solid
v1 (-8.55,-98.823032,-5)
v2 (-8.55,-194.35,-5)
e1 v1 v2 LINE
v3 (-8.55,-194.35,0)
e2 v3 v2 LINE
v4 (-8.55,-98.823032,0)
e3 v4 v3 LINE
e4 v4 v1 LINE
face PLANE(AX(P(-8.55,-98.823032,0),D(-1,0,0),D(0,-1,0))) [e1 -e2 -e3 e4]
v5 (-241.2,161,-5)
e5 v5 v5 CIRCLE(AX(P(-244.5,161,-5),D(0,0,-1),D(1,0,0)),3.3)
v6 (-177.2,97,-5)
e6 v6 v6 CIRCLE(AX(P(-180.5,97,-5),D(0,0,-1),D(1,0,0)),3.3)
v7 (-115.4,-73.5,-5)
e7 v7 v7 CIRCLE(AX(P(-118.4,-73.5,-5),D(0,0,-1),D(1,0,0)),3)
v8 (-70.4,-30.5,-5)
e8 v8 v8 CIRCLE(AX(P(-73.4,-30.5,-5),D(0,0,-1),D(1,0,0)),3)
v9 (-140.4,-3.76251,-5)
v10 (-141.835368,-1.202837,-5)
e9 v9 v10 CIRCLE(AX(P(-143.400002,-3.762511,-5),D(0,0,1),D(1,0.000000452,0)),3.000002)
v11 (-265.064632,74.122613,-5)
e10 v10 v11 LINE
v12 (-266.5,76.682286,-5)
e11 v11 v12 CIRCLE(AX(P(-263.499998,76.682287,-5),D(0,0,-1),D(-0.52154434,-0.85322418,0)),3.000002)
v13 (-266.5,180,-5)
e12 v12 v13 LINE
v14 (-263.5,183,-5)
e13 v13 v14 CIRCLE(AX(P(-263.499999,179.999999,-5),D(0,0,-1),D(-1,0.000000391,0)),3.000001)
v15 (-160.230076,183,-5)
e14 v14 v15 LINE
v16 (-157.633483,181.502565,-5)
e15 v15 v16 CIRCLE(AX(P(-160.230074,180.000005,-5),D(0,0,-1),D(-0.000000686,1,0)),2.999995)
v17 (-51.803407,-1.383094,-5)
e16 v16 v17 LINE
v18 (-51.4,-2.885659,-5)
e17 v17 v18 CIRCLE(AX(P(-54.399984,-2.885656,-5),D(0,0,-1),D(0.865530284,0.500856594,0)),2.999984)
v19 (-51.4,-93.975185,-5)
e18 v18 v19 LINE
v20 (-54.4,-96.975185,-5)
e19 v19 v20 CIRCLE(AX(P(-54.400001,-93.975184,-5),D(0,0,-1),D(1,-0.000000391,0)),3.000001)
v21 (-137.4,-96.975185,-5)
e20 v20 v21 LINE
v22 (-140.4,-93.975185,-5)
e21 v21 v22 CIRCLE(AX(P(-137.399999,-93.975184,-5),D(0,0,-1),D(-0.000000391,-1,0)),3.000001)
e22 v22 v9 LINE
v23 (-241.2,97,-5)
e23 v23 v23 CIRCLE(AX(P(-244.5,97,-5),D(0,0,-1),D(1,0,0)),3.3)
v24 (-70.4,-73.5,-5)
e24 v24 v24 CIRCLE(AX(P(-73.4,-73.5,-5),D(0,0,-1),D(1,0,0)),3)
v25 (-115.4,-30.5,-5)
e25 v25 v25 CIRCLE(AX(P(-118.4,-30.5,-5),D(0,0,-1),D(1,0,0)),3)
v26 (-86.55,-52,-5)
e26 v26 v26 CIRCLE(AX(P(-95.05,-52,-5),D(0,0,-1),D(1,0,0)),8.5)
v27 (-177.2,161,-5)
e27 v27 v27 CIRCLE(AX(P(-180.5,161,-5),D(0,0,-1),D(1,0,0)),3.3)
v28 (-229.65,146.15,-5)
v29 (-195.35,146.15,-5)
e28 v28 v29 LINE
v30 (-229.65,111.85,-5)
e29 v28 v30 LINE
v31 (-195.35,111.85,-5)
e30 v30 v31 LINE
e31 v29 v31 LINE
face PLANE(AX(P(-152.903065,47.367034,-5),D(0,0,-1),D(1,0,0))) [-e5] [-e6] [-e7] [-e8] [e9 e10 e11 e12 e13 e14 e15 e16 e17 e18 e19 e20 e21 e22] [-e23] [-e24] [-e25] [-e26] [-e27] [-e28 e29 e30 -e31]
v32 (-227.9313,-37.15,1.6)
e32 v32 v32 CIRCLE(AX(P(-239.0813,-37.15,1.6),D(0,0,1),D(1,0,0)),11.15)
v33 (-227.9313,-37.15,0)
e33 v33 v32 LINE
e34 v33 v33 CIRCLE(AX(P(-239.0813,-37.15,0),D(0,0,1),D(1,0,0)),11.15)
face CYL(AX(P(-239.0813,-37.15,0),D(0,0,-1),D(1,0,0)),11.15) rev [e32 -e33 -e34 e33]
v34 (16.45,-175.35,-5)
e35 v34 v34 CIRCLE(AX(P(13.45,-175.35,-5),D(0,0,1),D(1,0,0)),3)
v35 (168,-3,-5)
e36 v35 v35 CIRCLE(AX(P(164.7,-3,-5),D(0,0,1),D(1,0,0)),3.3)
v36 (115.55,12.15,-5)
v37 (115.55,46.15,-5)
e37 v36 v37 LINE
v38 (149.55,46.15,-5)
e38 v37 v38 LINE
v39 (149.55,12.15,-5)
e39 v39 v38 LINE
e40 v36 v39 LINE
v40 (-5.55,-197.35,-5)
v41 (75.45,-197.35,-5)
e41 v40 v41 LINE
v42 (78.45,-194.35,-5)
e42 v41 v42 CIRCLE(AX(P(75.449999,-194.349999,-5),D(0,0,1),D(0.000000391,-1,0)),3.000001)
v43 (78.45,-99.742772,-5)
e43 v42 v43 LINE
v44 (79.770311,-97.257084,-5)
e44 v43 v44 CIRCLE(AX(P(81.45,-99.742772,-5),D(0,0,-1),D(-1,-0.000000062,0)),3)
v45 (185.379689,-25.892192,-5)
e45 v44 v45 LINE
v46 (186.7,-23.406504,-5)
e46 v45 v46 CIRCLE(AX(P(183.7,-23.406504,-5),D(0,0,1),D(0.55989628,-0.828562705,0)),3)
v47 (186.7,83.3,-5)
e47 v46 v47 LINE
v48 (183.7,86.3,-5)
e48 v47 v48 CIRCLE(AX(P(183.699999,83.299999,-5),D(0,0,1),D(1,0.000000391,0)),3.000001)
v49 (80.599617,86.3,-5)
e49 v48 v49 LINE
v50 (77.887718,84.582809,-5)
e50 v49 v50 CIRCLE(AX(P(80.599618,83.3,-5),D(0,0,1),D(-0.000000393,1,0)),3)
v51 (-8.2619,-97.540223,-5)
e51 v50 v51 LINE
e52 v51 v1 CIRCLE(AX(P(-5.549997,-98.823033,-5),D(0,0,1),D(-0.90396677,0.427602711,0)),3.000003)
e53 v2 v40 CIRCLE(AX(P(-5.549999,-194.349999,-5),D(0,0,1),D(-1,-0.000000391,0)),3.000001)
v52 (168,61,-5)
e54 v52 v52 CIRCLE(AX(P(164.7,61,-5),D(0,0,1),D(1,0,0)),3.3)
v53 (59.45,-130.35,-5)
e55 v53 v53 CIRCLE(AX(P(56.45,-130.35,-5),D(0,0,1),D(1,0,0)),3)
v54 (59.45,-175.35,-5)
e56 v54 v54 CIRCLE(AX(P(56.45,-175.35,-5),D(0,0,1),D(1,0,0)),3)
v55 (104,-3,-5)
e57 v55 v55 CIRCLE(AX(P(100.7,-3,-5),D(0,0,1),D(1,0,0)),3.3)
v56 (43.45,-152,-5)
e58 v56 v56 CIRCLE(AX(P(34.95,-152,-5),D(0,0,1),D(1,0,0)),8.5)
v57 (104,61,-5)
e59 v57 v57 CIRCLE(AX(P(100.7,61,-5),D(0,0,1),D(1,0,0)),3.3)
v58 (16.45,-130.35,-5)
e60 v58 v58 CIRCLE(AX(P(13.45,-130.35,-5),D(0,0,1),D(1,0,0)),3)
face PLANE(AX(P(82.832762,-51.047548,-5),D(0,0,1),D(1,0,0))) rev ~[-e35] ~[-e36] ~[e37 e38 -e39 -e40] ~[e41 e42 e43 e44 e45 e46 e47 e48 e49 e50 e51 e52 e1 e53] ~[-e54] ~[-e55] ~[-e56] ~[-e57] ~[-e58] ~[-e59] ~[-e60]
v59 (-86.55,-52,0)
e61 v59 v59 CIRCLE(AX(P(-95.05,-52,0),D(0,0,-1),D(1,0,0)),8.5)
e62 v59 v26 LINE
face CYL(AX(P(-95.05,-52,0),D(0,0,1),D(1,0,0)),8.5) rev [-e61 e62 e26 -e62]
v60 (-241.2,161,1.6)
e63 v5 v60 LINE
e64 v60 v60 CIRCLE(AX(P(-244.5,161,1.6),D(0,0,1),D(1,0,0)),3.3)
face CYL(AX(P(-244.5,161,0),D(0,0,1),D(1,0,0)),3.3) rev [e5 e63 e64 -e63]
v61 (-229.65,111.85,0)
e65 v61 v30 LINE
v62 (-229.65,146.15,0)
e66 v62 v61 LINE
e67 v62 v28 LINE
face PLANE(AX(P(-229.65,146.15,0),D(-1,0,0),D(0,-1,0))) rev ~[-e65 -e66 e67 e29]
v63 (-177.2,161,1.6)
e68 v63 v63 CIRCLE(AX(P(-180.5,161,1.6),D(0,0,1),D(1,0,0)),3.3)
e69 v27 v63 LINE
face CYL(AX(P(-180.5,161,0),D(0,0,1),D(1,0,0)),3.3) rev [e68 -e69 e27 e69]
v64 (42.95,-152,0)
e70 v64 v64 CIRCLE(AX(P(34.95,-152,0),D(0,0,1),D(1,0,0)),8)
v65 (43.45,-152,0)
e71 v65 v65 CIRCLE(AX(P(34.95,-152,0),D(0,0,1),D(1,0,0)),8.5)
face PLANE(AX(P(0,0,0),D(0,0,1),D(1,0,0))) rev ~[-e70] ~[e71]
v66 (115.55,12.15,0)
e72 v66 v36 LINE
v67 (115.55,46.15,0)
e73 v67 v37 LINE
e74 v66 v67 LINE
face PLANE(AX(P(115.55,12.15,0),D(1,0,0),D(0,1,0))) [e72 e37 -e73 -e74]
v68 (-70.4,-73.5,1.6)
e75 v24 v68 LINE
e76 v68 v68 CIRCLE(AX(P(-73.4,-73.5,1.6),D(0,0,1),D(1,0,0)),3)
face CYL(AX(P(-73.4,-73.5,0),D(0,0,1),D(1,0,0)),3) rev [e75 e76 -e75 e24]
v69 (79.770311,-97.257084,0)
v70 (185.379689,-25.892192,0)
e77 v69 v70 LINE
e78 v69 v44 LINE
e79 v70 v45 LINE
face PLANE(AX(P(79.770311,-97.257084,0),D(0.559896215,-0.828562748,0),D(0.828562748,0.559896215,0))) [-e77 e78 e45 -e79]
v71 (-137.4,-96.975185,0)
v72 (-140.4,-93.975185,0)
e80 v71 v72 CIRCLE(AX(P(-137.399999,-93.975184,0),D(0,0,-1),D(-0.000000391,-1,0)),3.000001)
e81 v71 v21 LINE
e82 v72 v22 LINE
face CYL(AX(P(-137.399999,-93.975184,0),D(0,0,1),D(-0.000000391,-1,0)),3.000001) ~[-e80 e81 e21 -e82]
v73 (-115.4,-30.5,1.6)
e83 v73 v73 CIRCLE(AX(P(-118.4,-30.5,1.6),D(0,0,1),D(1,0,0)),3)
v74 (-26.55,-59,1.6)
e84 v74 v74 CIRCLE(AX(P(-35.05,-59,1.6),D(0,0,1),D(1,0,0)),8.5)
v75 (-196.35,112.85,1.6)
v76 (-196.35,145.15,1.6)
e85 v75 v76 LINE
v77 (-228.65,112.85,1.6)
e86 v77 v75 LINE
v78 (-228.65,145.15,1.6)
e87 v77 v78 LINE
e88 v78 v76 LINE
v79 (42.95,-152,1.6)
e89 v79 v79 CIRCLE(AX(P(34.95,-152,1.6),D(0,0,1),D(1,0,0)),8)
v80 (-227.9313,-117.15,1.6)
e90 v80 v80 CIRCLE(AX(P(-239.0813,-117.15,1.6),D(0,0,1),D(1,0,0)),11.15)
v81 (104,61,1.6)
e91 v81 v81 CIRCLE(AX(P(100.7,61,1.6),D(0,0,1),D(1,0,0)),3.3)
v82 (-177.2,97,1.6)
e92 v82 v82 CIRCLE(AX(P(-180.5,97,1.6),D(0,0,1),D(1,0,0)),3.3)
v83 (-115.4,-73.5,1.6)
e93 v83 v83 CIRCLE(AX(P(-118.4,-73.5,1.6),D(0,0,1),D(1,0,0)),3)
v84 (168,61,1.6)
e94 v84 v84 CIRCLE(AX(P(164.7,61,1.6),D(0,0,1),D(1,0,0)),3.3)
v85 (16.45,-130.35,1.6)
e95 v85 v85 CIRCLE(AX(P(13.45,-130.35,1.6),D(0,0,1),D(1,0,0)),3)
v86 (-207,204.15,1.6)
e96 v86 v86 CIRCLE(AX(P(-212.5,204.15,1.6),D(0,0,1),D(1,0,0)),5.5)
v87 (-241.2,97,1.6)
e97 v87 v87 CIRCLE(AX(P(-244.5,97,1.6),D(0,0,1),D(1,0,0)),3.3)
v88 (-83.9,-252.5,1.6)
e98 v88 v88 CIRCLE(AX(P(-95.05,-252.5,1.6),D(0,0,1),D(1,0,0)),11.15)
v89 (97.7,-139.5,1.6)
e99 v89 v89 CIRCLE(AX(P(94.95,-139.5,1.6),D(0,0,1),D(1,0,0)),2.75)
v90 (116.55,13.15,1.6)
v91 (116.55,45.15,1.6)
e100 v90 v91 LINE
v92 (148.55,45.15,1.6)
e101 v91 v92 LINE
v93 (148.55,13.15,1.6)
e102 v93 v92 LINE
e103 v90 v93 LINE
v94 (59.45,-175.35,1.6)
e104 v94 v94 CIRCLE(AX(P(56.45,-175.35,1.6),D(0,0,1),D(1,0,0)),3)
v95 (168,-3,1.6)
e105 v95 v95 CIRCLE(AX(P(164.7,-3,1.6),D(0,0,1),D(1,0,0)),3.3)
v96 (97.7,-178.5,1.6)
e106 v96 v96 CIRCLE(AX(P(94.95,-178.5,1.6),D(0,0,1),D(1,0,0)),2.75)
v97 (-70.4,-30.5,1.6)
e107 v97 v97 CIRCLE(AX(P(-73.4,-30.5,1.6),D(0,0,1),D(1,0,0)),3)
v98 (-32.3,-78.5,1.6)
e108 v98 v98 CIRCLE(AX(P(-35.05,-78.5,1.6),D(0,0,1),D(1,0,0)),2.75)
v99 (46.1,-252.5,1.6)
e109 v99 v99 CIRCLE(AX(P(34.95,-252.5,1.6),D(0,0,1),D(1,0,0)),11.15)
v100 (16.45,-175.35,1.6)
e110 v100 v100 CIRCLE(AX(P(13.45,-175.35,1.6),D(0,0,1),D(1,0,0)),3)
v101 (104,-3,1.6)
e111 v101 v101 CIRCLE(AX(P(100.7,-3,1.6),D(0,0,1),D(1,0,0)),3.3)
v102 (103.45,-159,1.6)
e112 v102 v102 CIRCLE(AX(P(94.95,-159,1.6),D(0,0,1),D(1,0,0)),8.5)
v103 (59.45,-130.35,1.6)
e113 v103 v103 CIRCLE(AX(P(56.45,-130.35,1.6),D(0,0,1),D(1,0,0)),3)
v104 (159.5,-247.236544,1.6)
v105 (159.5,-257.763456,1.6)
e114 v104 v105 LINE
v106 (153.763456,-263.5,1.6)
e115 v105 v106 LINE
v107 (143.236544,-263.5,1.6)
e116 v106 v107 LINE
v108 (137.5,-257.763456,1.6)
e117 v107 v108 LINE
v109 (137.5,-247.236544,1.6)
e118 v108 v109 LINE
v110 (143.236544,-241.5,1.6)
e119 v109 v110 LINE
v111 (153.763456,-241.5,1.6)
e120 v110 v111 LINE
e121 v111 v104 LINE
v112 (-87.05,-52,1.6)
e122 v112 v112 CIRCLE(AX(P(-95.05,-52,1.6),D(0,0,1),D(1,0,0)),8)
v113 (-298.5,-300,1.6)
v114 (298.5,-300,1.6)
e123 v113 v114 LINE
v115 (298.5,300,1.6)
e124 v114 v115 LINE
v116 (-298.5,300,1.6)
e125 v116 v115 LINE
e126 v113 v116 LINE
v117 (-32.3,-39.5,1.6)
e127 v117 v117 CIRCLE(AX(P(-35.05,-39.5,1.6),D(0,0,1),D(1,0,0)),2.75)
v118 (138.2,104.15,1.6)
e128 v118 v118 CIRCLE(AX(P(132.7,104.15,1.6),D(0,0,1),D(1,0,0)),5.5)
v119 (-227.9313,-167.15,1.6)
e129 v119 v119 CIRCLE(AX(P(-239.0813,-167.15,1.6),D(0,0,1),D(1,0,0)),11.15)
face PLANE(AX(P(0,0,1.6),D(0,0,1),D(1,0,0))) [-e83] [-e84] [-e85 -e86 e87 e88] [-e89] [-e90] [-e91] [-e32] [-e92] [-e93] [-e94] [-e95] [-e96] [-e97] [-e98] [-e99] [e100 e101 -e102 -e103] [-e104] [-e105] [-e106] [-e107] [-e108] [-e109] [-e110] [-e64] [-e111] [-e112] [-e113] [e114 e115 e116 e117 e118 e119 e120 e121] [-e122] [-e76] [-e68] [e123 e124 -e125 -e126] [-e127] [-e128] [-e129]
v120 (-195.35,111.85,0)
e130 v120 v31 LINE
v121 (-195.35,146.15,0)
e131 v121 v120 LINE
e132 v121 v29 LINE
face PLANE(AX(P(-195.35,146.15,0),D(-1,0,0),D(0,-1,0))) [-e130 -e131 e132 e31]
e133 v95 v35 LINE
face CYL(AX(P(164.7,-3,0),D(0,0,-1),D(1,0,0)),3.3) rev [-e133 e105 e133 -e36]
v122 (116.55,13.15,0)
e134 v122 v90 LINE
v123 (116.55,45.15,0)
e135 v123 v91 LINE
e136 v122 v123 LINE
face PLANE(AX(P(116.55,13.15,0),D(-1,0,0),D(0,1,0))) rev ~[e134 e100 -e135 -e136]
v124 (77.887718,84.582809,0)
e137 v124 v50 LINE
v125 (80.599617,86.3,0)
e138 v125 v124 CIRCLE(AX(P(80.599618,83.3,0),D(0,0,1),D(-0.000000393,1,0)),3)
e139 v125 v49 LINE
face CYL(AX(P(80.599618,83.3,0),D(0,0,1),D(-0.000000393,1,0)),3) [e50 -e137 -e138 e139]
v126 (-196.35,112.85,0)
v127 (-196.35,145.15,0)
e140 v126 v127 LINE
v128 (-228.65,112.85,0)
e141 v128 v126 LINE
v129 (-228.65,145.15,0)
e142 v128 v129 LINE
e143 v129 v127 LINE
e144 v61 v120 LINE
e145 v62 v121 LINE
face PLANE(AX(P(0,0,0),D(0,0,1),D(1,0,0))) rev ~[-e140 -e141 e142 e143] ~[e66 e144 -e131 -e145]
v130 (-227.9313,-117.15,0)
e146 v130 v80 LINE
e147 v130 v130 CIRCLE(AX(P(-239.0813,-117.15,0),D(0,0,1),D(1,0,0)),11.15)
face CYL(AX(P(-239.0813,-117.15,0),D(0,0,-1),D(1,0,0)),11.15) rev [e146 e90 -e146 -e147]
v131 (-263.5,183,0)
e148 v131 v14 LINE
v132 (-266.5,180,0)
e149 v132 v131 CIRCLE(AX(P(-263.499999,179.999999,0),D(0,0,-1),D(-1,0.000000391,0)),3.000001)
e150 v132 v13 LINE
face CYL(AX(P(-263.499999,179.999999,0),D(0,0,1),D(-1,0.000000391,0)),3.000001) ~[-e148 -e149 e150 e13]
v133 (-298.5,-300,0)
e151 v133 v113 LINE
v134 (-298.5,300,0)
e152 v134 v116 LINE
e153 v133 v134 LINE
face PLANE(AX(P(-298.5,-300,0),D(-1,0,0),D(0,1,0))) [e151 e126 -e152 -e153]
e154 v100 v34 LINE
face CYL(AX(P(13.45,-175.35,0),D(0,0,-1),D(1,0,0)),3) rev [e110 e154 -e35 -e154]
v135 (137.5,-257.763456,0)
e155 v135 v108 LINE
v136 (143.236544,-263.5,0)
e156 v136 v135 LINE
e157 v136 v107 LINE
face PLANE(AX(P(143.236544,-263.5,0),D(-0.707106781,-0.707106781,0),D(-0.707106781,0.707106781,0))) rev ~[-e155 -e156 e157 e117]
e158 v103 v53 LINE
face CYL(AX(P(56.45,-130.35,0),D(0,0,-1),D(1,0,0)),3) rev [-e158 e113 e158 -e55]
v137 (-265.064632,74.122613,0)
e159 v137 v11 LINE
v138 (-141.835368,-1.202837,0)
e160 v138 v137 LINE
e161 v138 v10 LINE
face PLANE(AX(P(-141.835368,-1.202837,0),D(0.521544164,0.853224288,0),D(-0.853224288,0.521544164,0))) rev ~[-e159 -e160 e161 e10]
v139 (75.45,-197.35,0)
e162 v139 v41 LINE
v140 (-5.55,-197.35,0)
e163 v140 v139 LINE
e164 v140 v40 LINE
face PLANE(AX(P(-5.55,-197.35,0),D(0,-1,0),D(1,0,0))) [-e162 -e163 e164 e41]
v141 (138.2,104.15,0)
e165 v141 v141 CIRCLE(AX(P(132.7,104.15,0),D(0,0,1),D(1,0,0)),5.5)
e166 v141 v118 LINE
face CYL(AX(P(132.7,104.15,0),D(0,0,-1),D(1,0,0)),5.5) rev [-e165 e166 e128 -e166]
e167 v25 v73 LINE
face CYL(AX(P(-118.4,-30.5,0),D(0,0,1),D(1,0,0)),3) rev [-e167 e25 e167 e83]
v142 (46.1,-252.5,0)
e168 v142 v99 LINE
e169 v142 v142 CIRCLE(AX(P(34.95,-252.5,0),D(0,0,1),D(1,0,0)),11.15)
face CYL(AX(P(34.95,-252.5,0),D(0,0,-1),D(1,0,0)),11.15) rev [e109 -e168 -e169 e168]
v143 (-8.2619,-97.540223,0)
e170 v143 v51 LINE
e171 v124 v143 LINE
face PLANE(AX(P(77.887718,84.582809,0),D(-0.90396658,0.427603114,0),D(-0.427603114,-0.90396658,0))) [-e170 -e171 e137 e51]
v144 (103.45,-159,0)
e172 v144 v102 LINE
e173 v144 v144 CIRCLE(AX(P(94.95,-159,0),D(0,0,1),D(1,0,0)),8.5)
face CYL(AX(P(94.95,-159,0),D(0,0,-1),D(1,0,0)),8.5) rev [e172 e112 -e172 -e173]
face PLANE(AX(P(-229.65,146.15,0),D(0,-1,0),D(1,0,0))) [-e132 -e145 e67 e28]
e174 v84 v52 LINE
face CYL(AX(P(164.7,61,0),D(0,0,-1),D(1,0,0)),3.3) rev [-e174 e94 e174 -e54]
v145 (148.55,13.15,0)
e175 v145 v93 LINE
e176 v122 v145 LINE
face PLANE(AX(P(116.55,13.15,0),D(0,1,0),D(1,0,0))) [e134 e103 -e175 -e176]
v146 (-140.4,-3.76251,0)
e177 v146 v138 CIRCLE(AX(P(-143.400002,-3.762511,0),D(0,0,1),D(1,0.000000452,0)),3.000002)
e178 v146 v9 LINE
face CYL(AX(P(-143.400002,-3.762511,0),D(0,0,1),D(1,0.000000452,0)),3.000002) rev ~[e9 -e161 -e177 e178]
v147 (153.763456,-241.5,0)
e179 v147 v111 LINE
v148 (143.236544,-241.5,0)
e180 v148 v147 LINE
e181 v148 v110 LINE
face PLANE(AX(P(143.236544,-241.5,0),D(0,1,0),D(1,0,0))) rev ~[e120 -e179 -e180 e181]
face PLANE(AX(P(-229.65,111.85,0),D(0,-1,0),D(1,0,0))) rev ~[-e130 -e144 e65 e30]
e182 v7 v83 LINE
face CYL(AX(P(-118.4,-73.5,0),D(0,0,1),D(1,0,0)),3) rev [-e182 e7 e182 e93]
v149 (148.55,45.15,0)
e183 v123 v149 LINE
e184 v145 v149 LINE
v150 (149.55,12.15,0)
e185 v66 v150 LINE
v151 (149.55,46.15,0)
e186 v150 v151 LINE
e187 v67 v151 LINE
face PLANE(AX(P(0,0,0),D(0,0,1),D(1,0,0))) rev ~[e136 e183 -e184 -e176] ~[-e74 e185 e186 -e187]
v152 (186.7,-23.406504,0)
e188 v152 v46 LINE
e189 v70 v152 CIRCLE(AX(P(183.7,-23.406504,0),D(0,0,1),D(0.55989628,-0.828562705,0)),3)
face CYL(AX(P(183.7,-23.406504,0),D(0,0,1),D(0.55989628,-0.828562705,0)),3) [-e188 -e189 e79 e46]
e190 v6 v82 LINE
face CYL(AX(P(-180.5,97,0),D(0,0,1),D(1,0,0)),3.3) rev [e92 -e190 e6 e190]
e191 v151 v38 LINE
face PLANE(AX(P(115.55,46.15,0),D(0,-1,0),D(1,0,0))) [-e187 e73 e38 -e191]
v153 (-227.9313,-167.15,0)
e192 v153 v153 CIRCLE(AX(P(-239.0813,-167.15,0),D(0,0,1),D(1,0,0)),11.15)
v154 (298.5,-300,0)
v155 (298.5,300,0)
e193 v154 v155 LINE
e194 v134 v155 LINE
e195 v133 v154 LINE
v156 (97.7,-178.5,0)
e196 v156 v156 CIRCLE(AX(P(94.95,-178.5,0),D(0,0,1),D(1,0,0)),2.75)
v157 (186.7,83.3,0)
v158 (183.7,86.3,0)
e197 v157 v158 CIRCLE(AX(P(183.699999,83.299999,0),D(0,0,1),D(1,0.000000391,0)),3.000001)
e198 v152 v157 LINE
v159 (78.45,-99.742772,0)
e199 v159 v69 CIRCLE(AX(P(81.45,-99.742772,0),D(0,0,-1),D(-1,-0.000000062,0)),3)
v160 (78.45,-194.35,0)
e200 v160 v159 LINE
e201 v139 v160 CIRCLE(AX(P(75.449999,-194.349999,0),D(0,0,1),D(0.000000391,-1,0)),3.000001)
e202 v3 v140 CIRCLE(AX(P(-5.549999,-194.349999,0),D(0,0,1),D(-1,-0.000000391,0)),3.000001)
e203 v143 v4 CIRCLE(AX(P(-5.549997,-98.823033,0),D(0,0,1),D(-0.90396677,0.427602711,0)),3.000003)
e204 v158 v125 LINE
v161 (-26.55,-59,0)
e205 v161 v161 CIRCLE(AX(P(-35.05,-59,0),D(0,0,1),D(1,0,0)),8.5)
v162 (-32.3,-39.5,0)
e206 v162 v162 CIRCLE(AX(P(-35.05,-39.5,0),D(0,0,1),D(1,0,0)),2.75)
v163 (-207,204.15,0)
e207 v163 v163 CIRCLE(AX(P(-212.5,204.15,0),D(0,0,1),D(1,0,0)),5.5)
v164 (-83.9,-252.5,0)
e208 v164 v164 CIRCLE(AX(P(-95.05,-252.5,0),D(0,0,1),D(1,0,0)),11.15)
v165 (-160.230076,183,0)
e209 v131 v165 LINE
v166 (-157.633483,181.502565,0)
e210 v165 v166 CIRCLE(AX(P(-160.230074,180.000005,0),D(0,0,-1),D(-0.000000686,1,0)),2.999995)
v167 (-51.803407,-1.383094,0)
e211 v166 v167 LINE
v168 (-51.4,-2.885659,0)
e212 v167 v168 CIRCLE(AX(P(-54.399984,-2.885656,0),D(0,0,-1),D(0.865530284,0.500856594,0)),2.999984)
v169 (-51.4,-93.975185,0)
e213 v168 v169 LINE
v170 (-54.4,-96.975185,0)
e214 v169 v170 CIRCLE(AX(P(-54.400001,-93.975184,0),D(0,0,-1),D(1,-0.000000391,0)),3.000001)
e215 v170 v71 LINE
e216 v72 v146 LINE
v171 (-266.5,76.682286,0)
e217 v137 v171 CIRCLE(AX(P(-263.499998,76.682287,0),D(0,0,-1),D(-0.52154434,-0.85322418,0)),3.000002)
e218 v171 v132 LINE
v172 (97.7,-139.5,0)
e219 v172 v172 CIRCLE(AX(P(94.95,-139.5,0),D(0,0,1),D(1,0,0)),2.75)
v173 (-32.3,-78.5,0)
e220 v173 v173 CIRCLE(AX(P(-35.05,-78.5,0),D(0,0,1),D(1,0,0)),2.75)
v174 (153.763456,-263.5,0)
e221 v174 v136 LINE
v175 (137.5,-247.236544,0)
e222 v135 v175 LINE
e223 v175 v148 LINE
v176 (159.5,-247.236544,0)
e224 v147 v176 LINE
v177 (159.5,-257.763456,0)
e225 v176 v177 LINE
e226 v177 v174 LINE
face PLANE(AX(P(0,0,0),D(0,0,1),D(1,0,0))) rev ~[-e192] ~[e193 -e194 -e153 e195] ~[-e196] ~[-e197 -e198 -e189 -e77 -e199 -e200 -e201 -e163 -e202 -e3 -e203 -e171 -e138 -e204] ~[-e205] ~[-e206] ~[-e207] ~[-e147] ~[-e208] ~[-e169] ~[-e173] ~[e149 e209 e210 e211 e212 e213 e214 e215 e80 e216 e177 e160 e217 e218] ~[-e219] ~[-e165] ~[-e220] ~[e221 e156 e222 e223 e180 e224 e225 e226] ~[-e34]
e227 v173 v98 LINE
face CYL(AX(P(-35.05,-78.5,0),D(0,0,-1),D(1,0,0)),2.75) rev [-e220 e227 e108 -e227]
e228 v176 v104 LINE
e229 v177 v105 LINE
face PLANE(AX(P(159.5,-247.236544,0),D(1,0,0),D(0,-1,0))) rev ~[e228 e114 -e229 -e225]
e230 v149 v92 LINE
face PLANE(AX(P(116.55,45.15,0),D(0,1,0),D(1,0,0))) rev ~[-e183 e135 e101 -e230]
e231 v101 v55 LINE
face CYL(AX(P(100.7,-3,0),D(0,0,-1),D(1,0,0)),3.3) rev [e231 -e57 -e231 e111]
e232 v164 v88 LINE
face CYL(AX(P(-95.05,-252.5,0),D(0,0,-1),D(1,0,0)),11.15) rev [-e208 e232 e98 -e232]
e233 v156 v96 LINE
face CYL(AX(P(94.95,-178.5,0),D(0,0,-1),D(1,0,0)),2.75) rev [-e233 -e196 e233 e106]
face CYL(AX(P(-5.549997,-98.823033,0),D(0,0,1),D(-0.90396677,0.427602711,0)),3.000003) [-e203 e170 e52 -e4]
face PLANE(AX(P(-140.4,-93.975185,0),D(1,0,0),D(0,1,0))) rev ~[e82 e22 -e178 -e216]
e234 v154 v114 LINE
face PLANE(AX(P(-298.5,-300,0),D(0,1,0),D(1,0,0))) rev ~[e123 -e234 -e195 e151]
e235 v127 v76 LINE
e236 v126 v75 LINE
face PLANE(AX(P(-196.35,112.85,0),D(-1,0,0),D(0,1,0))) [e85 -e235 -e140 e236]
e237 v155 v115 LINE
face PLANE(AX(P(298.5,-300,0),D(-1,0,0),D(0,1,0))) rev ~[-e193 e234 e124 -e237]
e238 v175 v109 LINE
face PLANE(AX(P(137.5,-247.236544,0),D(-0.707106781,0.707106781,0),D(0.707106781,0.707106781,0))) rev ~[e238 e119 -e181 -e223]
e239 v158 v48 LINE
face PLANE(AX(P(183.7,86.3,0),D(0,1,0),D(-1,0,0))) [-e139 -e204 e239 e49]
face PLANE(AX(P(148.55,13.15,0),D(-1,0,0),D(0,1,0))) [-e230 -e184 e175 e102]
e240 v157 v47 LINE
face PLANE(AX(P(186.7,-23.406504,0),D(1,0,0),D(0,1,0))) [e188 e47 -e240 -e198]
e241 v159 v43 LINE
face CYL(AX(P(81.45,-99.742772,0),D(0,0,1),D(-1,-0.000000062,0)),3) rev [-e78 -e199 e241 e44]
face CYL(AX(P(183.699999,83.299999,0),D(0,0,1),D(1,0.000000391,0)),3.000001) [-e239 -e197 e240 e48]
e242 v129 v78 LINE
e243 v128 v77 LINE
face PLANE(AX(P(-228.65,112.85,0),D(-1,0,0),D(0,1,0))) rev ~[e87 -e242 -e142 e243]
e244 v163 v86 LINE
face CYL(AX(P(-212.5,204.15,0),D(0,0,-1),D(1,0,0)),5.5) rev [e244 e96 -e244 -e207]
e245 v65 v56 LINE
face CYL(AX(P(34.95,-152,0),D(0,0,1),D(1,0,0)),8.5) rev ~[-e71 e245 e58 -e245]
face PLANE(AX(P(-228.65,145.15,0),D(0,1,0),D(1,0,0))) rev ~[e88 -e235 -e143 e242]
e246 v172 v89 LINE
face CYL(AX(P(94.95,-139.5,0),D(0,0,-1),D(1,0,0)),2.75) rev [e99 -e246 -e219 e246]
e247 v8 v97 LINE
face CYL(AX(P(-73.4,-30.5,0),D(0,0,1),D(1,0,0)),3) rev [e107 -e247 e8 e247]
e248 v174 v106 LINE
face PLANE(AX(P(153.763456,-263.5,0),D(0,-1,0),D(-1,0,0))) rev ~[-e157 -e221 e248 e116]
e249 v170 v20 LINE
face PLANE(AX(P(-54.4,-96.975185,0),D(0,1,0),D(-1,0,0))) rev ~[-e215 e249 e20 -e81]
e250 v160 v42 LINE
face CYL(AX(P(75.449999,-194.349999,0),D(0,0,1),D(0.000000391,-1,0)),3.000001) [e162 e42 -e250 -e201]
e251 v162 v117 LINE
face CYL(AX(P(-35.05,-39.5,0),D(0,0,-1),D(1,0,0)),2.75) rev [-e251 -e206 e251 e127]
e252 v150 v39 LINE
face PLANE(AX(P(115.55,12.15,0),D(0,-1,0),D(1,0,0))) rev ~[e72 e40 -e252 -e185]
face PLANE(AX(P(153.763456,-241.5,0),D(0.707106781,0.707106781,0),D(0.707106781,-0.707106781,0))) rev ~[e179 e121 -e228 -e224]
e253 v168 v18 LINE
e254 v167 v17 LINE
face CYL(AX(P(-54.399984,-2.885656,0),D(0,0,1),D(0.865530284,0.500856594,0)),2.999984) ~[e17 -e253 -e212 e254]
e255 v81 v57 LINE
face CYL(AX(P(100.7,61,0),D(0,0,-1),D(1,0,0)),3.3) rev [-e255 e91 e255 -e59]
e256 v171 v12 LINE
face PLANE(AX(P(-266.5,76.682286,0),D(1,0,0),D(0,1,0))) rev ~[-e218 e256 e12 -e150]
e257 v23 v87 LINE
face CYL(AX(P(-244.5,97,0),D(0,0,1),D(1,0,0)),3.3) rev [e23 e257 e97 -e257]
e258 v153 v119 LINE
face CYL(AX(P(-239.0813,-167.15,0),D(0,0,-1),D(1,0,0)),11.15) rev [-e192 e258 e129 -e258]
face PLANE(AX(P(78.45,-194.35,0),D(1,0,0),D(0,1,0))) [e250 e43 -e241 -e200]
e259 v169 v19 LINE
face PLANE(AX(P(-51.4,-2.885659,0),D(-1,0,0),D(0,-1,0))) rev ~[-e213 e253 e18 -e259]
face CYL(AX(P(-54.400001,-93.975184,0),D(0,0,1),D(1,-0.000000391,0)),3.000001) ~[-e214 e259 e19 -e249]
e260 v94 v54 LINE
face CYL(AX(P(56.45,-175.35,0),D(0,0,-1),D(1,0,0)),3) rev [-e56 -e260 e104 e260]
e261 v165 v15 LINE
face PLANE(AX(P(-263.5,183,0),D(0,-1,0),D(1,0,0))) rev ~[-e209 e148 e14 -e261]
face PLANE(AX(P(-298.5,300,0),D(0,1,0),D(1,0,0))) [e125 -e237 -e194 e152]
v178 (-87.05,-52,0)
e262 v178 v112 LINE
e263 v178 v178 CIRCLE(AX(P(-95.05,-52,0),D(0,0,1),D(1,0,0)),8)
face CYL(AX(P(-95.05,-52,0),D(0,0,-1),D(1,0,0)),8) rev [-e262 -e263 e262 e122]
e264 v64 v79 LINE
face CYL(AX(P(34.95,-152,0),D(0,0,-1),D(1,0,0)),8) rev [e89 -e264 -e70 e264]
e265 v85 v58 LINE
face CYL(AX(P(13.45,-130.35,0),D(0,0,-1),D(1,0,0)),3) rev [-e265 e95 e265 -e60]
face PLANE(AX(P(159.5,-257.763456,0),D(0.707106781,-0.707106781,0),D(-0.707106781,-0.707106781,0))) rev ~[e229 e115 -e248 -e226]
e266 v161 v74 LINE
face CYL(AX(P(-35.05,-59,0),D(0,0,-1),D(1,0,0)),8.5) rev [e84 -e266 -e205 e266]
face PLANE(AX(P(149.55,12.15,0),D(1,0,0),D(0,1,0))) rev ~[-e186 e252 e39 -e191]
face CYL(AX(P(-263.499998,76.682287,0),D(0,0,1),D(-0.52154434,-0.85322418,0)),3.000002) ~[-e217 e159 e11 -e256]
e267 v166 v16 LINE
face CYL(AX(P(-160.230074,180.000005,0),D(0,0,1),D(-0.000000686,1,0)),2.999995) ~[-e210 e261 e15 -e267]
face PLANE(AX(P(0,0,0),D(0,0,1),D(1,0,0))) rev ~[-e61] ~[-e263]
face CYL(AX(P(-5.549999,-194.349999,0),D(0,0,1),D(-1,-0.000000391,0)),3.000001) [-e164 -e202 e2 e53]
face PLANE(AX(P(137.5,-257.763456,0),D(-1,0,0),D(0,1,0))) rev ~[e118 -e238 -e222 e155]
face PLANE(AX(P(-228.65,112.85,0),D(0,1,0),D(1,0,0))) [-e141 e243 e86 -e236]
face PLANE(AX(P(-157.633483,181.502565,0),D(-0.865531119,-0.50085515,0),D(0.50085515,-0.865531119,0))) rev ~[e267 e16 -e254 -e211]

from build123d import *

# Parameters (mm, degrees)
F0_W     = 597
F0_H     = 600
F0_R     = 11.15
F0_R_2   = 2.75
F0_R_3   = 3
F0_R_4   = 8
F0_R_5   = 8.5
F0_R_6   = 3.3
F0_W_2   = 32.3
F0_H_2   = 32.3
F0_R_7   = 5.5
F0_W_3   = 32
F0_H_3   = 32
F1_DEPTH = 1.6
F2_R     = 3
F2_R_2   = 8.5
F2_R_3   = 3.3
F2_W     = 34
F2_H     = 34
F3_DEPTH = 5
F4_R     = 3.3
F4_W     = 34.3
F4_H     = 34.3
F4_R_2   = 3
F4_R_3   = 8.5
F5_DEPTH = 5


with BuildPart() as f1:
    # F0 (on Top) → F1 (new body)
    with BuildSketch(Plane.XY):
        Rectangle(F0_W, F0_H)
        with Locations((-239.0813, -167.15)):
            Circle(F0_R, mode=Mode.SUBTRACT)
        with Locations((-95.05, -252.5)):
            Circle(F0_R, mode=Mode.SUBTRACT)
        with Locations((-239.0813, -117.15)):
            Circle(F0_R, mode=Mode.SUBTRACT)
        with Locations((-239.0813, -37.15)):
            Circle(F0_R, mode=Mode.SUBTRACT)
        with Locations((-35.05, -78.5)):
            Circle(F0_R_2, mode=Mode.SUBTRACT)
        with Locations((-118.4, -73.5)):
            Circle(F0_R_3, mode=Mode.SUBTRACT)
        with Locations((-95.05, -52)):
            Circle(F0_R_4, mode=Mode.SUBTRACT)
        with Locations((-118.4, -30.5)):
            Circle(F0_R_3, mode=Mode.SUBTRACT)
        with Locations((-73.4, -73.5)):
            Circle(F0_R_3, mode=Mode.SUBTRACT)
        with Locations((-35.05, -59)):
            Circle(F0_R_5, mode=Mode.SUBTRACT)
        with Locations((-35.05, -39.5)):
            Circle(F0_R_2, mode=Mode.SUBTRACT)
        with Locations((-73.4, -30.5)):
            Circle(F0_R_3, mode=Mode.SUBTRACT)
        with Locations((34.95, -252.5)):
            Circle(F0_R, mode=Mode.SUBTRACT)
        Polygon((159.5, -247.236544), (159.5, -257.763456), (153.763456, -263.5), (143.236544, -263.5), (137.5, -257.763456), (137.5, -247.236544), (143.236544, -241.5), (153.763456, -241.5), align=None, mode=Mode.SUBTRACT)
        with Locations((13.45, -175.35)):
            Circle(F0_R_3, mode=Mode.SUBTRACT)
        with Locations((34.95, -152)):
            Circle(F0_R_4, mode=Mode.SUBTRACT)
        with Locations((56.45, -175.35)):
            Circle(F0_R_3, mode=Mode.SUBTRACT)
        with Locations((94.95, -178.5)):
            Circle(F0_R_2, mode=Mode.SUBTRACT)
        with Locations((94.95, -159)):
            Circle(F0_R_5, mode=Mode.SUBTRACT)
        with Locations((13.45, -130.35)):
            Circle(F0_R_3, mode=Mode.SUBTRACT)
        with Locations((56.45, -130.35)):
            Circle(F0_R_3, mode=Mode.SUBTRACT)
        with Locations((94.95, -139.5)):
            Circle(F0_R_2, mode=Mode.SUBTRACT)
        with Locations((100.7, -3)):
            Circle(F0_R_6, mode=Mode.SUBTRACT)
        with Locations((164.7, -3)):
            Circle(F0_R_6, mode=Mode.SUBTRACT)
        with Locations((-244.5, 97)):
            Circle(F0_R_6, mode=Mode.SUBTRACT)
        with Locations((-180.5, 97)):
            Circle(F0_R_6, mode=Mode.SUBTRACT)
        with Locations((-212.5, 129)):
            Rectangle(F0_W_2, F0_H_2, mode=Mode.SUBTRACT)
        with Locations((-244.5, 161)):
            Circle(F0_R_6, mode=Mode.SUBTRACT)
        with Locations((-180.5, 161)):
            Circle(F0_R_6, mode=Mode.SUBTRACT)
        with Locations((-212.5, 204.15)):
            Circle(F0_R_7, mode=Mode.SUBTRACT)
        with Locations((132.55, 29.15)):
            Rectangle(F0_W_3, F0_H_3, mode=Mode.SUBTRACT)
        with Locations((100.7, 61)):
            Circle(F0_R_6, mode=Mode.SUBTRACT)
        with Locations((132.7, 104.15)):
            Circle(F0_R_7, mode=Mode.SUBTRACT)
        with Locations((164.7, 61)):
            Circle(F0_R_6, mode=Mode.SUBTRACT)
    extrude(amount=F1_DEPTH)

    # F2 (on Top) → F3 (join)
    with BuildSketch(Plane.XY):
        with BuildLine():
            ThreePointArc((75.45, -197.35), (77.57132, -196.47132), (78.45, -194.35))
            Line((78.45, -194.35), (78.45, -99.742772))
            ThreePointArc((78.45, -99.742772), (78.80056, -98.335481), (79.770311, -97.257084))
            Line((79.770311, -97.257084), (185.379689, -25.892192))
            ThreePointArc((185.379689, -25.892192), (186.34944, -24.813795), (186.7, -23.406504))
            Line((186.7, -23.406504), (186.7, 83.3))
            ThreePointArc((186.7, 83.3), (185.82132, 85.42132), (183.7, 86.3))
            Line((183.7, 86.3), (80.599617, 86.3))
            ThreePointArc((80.599617, 86.3), (78.994692, 85.834603), (77.887718, 84.582809))
            Line((77.887718, 84.582809), (-8.2619, -97.540223))
            ThreePointArc((-8.2619, -97.540223), (-8.477089, -98.165651), (-8.55, -98.823032))
            Line((-8.55, -98.823032), (-8.55, -194.35))
            ThreePointArc((-8.55, -194.35), (-7.67132, -196.47132), (-5.55, -197.35))
            Line((-5.55, -197.35), (75.45, -197.35))
        make_face()
        with Locations((13.45, -175.35)):
            Circle(F2_R, mode=Mode.SUBTRACT)
        with Locations((13.45, -130.35)):
            Circle(F2_R, mode=Mode.SUBTRACT)
        with Locations((34.95, -152)):
            Circle(F2_R_2, mode=Mode.SUBTRACT)
        with Locations((56.45, -175.35)):
            Circle(F2_R, mode=Mode.SUBTRACT)
        with Locations((56.45, -130.35)):
            Circle(F2_R, mode=Mode.SUBTRACT)
        with Locations((100.7, -3)):
            Circle(F2_R_3, mode=Mode.SUBTRACT)
        with Locations((164.7, -3)):
            Circle(F2_R_3, mode=Mode.SUBTRACT)
        with Locations((132.55, 29.15)):
            Rectangle(F2_W, F2_H, mode=Mode.SUBTRACT)
        with Locations((100.7, 61)):
            Circle(F2_R_3, mode=Mode.SUBTRACT)
        with Locations((164.7, 61)):
            Circle(F2_R_3, mode=Mode.SUBTRACT)
    extrude(amount=-F3_DEPTH)

    # F4 (on face) → F5 (join)
    with BuildSketch(Plane(origin=(0, 0, 0), x_dir=(1, 0, 0), z_dir=(0, 0, -1))):
        with BuildLine():
            ThreePointArc((-137.4, 96.975185), (-139.52132, 96.096505), (-140.4, 93.975185))
            Line((-140.4, 93.975185), (-140.4, 3.76251))
            ThreePointArc((-140.4, 3.76251), (-140.783333, 2.295182), (-141.835368, 1.202837))
            Line((-141.835368, 1.202837), (-265.064632, -74.122613))
            ThreePointArc((-265.064632, -74.122613), (-266.116667, -75.214958), (-266.5, -76.682286))
            Line((-266.5, -76.682286), (-266.5, -180))
            ThreePointArc((-266.5, -180), (-265.62132, -182.12132), (-263.5, -183))
            Line((-263.5, -183), (-160.230076, -183))
            ThreePointArc((-160.230076, -183), (-158.731359, -182.598817), (-157.633483, -181.502565))
            Line((-157.633483, -181.502565), (-51.803407, 1.383094))
            ThreePointArc((-51.803407, 1.383094), (-51.502606, 2.107771), (-51.4, 2.885659))
            Line((-51.4, 2.885659), (-51.4, 93.975185))
            ThreePointArc((-51.4, 93.975185), (-52.27868, 96.096505), (-54.4, 96.975185))
            Line((-54.4, 96.975185), (-137.4, 96.975185))
        make_face()
        with Locations((-244.5, -161)):
            Circle(F4_R, mode=Mode.SUBTRACT)
        with Locations((-180.5, -161)):
            Circle(F4_R, mode=Mode.SUBTRACT)
        with Locations((-212.5, -129)):
            Rectangle(F4_W, F4_H, mode=Mode.SUBTRACT)
        with Locations((-244.5, -97)):
            Circle(F4_R, mode=Mode.SUBTRACT)
        with Locations((-180.5, -97)):
            Circle(F4_R, mode=Mode.SUBTRACT)
        with Locations((-118.4, 30.5)):
            Circle(F4_R_2, mode=Mode.SUBTRACT)
        with Locations((-118.4, 73.5)):
            Circle(F4_R_2, mode=Mode.SUBTRACT)
        with Locations((-95.05, 52)):
            Circle(F4_R_3, mode=Mode.SUBTRACT)
        with Locations((-73.4, 30.5)):
            Circle(F4_R_2, mode=Mode.SUBTRACT)
        with Locations((-73.4, 73.5)):
            Circle(F4_R_2, mode=Mode.SUBTRACT)
    extrude(amount=F5_DEPTH)


solid = f1.part
